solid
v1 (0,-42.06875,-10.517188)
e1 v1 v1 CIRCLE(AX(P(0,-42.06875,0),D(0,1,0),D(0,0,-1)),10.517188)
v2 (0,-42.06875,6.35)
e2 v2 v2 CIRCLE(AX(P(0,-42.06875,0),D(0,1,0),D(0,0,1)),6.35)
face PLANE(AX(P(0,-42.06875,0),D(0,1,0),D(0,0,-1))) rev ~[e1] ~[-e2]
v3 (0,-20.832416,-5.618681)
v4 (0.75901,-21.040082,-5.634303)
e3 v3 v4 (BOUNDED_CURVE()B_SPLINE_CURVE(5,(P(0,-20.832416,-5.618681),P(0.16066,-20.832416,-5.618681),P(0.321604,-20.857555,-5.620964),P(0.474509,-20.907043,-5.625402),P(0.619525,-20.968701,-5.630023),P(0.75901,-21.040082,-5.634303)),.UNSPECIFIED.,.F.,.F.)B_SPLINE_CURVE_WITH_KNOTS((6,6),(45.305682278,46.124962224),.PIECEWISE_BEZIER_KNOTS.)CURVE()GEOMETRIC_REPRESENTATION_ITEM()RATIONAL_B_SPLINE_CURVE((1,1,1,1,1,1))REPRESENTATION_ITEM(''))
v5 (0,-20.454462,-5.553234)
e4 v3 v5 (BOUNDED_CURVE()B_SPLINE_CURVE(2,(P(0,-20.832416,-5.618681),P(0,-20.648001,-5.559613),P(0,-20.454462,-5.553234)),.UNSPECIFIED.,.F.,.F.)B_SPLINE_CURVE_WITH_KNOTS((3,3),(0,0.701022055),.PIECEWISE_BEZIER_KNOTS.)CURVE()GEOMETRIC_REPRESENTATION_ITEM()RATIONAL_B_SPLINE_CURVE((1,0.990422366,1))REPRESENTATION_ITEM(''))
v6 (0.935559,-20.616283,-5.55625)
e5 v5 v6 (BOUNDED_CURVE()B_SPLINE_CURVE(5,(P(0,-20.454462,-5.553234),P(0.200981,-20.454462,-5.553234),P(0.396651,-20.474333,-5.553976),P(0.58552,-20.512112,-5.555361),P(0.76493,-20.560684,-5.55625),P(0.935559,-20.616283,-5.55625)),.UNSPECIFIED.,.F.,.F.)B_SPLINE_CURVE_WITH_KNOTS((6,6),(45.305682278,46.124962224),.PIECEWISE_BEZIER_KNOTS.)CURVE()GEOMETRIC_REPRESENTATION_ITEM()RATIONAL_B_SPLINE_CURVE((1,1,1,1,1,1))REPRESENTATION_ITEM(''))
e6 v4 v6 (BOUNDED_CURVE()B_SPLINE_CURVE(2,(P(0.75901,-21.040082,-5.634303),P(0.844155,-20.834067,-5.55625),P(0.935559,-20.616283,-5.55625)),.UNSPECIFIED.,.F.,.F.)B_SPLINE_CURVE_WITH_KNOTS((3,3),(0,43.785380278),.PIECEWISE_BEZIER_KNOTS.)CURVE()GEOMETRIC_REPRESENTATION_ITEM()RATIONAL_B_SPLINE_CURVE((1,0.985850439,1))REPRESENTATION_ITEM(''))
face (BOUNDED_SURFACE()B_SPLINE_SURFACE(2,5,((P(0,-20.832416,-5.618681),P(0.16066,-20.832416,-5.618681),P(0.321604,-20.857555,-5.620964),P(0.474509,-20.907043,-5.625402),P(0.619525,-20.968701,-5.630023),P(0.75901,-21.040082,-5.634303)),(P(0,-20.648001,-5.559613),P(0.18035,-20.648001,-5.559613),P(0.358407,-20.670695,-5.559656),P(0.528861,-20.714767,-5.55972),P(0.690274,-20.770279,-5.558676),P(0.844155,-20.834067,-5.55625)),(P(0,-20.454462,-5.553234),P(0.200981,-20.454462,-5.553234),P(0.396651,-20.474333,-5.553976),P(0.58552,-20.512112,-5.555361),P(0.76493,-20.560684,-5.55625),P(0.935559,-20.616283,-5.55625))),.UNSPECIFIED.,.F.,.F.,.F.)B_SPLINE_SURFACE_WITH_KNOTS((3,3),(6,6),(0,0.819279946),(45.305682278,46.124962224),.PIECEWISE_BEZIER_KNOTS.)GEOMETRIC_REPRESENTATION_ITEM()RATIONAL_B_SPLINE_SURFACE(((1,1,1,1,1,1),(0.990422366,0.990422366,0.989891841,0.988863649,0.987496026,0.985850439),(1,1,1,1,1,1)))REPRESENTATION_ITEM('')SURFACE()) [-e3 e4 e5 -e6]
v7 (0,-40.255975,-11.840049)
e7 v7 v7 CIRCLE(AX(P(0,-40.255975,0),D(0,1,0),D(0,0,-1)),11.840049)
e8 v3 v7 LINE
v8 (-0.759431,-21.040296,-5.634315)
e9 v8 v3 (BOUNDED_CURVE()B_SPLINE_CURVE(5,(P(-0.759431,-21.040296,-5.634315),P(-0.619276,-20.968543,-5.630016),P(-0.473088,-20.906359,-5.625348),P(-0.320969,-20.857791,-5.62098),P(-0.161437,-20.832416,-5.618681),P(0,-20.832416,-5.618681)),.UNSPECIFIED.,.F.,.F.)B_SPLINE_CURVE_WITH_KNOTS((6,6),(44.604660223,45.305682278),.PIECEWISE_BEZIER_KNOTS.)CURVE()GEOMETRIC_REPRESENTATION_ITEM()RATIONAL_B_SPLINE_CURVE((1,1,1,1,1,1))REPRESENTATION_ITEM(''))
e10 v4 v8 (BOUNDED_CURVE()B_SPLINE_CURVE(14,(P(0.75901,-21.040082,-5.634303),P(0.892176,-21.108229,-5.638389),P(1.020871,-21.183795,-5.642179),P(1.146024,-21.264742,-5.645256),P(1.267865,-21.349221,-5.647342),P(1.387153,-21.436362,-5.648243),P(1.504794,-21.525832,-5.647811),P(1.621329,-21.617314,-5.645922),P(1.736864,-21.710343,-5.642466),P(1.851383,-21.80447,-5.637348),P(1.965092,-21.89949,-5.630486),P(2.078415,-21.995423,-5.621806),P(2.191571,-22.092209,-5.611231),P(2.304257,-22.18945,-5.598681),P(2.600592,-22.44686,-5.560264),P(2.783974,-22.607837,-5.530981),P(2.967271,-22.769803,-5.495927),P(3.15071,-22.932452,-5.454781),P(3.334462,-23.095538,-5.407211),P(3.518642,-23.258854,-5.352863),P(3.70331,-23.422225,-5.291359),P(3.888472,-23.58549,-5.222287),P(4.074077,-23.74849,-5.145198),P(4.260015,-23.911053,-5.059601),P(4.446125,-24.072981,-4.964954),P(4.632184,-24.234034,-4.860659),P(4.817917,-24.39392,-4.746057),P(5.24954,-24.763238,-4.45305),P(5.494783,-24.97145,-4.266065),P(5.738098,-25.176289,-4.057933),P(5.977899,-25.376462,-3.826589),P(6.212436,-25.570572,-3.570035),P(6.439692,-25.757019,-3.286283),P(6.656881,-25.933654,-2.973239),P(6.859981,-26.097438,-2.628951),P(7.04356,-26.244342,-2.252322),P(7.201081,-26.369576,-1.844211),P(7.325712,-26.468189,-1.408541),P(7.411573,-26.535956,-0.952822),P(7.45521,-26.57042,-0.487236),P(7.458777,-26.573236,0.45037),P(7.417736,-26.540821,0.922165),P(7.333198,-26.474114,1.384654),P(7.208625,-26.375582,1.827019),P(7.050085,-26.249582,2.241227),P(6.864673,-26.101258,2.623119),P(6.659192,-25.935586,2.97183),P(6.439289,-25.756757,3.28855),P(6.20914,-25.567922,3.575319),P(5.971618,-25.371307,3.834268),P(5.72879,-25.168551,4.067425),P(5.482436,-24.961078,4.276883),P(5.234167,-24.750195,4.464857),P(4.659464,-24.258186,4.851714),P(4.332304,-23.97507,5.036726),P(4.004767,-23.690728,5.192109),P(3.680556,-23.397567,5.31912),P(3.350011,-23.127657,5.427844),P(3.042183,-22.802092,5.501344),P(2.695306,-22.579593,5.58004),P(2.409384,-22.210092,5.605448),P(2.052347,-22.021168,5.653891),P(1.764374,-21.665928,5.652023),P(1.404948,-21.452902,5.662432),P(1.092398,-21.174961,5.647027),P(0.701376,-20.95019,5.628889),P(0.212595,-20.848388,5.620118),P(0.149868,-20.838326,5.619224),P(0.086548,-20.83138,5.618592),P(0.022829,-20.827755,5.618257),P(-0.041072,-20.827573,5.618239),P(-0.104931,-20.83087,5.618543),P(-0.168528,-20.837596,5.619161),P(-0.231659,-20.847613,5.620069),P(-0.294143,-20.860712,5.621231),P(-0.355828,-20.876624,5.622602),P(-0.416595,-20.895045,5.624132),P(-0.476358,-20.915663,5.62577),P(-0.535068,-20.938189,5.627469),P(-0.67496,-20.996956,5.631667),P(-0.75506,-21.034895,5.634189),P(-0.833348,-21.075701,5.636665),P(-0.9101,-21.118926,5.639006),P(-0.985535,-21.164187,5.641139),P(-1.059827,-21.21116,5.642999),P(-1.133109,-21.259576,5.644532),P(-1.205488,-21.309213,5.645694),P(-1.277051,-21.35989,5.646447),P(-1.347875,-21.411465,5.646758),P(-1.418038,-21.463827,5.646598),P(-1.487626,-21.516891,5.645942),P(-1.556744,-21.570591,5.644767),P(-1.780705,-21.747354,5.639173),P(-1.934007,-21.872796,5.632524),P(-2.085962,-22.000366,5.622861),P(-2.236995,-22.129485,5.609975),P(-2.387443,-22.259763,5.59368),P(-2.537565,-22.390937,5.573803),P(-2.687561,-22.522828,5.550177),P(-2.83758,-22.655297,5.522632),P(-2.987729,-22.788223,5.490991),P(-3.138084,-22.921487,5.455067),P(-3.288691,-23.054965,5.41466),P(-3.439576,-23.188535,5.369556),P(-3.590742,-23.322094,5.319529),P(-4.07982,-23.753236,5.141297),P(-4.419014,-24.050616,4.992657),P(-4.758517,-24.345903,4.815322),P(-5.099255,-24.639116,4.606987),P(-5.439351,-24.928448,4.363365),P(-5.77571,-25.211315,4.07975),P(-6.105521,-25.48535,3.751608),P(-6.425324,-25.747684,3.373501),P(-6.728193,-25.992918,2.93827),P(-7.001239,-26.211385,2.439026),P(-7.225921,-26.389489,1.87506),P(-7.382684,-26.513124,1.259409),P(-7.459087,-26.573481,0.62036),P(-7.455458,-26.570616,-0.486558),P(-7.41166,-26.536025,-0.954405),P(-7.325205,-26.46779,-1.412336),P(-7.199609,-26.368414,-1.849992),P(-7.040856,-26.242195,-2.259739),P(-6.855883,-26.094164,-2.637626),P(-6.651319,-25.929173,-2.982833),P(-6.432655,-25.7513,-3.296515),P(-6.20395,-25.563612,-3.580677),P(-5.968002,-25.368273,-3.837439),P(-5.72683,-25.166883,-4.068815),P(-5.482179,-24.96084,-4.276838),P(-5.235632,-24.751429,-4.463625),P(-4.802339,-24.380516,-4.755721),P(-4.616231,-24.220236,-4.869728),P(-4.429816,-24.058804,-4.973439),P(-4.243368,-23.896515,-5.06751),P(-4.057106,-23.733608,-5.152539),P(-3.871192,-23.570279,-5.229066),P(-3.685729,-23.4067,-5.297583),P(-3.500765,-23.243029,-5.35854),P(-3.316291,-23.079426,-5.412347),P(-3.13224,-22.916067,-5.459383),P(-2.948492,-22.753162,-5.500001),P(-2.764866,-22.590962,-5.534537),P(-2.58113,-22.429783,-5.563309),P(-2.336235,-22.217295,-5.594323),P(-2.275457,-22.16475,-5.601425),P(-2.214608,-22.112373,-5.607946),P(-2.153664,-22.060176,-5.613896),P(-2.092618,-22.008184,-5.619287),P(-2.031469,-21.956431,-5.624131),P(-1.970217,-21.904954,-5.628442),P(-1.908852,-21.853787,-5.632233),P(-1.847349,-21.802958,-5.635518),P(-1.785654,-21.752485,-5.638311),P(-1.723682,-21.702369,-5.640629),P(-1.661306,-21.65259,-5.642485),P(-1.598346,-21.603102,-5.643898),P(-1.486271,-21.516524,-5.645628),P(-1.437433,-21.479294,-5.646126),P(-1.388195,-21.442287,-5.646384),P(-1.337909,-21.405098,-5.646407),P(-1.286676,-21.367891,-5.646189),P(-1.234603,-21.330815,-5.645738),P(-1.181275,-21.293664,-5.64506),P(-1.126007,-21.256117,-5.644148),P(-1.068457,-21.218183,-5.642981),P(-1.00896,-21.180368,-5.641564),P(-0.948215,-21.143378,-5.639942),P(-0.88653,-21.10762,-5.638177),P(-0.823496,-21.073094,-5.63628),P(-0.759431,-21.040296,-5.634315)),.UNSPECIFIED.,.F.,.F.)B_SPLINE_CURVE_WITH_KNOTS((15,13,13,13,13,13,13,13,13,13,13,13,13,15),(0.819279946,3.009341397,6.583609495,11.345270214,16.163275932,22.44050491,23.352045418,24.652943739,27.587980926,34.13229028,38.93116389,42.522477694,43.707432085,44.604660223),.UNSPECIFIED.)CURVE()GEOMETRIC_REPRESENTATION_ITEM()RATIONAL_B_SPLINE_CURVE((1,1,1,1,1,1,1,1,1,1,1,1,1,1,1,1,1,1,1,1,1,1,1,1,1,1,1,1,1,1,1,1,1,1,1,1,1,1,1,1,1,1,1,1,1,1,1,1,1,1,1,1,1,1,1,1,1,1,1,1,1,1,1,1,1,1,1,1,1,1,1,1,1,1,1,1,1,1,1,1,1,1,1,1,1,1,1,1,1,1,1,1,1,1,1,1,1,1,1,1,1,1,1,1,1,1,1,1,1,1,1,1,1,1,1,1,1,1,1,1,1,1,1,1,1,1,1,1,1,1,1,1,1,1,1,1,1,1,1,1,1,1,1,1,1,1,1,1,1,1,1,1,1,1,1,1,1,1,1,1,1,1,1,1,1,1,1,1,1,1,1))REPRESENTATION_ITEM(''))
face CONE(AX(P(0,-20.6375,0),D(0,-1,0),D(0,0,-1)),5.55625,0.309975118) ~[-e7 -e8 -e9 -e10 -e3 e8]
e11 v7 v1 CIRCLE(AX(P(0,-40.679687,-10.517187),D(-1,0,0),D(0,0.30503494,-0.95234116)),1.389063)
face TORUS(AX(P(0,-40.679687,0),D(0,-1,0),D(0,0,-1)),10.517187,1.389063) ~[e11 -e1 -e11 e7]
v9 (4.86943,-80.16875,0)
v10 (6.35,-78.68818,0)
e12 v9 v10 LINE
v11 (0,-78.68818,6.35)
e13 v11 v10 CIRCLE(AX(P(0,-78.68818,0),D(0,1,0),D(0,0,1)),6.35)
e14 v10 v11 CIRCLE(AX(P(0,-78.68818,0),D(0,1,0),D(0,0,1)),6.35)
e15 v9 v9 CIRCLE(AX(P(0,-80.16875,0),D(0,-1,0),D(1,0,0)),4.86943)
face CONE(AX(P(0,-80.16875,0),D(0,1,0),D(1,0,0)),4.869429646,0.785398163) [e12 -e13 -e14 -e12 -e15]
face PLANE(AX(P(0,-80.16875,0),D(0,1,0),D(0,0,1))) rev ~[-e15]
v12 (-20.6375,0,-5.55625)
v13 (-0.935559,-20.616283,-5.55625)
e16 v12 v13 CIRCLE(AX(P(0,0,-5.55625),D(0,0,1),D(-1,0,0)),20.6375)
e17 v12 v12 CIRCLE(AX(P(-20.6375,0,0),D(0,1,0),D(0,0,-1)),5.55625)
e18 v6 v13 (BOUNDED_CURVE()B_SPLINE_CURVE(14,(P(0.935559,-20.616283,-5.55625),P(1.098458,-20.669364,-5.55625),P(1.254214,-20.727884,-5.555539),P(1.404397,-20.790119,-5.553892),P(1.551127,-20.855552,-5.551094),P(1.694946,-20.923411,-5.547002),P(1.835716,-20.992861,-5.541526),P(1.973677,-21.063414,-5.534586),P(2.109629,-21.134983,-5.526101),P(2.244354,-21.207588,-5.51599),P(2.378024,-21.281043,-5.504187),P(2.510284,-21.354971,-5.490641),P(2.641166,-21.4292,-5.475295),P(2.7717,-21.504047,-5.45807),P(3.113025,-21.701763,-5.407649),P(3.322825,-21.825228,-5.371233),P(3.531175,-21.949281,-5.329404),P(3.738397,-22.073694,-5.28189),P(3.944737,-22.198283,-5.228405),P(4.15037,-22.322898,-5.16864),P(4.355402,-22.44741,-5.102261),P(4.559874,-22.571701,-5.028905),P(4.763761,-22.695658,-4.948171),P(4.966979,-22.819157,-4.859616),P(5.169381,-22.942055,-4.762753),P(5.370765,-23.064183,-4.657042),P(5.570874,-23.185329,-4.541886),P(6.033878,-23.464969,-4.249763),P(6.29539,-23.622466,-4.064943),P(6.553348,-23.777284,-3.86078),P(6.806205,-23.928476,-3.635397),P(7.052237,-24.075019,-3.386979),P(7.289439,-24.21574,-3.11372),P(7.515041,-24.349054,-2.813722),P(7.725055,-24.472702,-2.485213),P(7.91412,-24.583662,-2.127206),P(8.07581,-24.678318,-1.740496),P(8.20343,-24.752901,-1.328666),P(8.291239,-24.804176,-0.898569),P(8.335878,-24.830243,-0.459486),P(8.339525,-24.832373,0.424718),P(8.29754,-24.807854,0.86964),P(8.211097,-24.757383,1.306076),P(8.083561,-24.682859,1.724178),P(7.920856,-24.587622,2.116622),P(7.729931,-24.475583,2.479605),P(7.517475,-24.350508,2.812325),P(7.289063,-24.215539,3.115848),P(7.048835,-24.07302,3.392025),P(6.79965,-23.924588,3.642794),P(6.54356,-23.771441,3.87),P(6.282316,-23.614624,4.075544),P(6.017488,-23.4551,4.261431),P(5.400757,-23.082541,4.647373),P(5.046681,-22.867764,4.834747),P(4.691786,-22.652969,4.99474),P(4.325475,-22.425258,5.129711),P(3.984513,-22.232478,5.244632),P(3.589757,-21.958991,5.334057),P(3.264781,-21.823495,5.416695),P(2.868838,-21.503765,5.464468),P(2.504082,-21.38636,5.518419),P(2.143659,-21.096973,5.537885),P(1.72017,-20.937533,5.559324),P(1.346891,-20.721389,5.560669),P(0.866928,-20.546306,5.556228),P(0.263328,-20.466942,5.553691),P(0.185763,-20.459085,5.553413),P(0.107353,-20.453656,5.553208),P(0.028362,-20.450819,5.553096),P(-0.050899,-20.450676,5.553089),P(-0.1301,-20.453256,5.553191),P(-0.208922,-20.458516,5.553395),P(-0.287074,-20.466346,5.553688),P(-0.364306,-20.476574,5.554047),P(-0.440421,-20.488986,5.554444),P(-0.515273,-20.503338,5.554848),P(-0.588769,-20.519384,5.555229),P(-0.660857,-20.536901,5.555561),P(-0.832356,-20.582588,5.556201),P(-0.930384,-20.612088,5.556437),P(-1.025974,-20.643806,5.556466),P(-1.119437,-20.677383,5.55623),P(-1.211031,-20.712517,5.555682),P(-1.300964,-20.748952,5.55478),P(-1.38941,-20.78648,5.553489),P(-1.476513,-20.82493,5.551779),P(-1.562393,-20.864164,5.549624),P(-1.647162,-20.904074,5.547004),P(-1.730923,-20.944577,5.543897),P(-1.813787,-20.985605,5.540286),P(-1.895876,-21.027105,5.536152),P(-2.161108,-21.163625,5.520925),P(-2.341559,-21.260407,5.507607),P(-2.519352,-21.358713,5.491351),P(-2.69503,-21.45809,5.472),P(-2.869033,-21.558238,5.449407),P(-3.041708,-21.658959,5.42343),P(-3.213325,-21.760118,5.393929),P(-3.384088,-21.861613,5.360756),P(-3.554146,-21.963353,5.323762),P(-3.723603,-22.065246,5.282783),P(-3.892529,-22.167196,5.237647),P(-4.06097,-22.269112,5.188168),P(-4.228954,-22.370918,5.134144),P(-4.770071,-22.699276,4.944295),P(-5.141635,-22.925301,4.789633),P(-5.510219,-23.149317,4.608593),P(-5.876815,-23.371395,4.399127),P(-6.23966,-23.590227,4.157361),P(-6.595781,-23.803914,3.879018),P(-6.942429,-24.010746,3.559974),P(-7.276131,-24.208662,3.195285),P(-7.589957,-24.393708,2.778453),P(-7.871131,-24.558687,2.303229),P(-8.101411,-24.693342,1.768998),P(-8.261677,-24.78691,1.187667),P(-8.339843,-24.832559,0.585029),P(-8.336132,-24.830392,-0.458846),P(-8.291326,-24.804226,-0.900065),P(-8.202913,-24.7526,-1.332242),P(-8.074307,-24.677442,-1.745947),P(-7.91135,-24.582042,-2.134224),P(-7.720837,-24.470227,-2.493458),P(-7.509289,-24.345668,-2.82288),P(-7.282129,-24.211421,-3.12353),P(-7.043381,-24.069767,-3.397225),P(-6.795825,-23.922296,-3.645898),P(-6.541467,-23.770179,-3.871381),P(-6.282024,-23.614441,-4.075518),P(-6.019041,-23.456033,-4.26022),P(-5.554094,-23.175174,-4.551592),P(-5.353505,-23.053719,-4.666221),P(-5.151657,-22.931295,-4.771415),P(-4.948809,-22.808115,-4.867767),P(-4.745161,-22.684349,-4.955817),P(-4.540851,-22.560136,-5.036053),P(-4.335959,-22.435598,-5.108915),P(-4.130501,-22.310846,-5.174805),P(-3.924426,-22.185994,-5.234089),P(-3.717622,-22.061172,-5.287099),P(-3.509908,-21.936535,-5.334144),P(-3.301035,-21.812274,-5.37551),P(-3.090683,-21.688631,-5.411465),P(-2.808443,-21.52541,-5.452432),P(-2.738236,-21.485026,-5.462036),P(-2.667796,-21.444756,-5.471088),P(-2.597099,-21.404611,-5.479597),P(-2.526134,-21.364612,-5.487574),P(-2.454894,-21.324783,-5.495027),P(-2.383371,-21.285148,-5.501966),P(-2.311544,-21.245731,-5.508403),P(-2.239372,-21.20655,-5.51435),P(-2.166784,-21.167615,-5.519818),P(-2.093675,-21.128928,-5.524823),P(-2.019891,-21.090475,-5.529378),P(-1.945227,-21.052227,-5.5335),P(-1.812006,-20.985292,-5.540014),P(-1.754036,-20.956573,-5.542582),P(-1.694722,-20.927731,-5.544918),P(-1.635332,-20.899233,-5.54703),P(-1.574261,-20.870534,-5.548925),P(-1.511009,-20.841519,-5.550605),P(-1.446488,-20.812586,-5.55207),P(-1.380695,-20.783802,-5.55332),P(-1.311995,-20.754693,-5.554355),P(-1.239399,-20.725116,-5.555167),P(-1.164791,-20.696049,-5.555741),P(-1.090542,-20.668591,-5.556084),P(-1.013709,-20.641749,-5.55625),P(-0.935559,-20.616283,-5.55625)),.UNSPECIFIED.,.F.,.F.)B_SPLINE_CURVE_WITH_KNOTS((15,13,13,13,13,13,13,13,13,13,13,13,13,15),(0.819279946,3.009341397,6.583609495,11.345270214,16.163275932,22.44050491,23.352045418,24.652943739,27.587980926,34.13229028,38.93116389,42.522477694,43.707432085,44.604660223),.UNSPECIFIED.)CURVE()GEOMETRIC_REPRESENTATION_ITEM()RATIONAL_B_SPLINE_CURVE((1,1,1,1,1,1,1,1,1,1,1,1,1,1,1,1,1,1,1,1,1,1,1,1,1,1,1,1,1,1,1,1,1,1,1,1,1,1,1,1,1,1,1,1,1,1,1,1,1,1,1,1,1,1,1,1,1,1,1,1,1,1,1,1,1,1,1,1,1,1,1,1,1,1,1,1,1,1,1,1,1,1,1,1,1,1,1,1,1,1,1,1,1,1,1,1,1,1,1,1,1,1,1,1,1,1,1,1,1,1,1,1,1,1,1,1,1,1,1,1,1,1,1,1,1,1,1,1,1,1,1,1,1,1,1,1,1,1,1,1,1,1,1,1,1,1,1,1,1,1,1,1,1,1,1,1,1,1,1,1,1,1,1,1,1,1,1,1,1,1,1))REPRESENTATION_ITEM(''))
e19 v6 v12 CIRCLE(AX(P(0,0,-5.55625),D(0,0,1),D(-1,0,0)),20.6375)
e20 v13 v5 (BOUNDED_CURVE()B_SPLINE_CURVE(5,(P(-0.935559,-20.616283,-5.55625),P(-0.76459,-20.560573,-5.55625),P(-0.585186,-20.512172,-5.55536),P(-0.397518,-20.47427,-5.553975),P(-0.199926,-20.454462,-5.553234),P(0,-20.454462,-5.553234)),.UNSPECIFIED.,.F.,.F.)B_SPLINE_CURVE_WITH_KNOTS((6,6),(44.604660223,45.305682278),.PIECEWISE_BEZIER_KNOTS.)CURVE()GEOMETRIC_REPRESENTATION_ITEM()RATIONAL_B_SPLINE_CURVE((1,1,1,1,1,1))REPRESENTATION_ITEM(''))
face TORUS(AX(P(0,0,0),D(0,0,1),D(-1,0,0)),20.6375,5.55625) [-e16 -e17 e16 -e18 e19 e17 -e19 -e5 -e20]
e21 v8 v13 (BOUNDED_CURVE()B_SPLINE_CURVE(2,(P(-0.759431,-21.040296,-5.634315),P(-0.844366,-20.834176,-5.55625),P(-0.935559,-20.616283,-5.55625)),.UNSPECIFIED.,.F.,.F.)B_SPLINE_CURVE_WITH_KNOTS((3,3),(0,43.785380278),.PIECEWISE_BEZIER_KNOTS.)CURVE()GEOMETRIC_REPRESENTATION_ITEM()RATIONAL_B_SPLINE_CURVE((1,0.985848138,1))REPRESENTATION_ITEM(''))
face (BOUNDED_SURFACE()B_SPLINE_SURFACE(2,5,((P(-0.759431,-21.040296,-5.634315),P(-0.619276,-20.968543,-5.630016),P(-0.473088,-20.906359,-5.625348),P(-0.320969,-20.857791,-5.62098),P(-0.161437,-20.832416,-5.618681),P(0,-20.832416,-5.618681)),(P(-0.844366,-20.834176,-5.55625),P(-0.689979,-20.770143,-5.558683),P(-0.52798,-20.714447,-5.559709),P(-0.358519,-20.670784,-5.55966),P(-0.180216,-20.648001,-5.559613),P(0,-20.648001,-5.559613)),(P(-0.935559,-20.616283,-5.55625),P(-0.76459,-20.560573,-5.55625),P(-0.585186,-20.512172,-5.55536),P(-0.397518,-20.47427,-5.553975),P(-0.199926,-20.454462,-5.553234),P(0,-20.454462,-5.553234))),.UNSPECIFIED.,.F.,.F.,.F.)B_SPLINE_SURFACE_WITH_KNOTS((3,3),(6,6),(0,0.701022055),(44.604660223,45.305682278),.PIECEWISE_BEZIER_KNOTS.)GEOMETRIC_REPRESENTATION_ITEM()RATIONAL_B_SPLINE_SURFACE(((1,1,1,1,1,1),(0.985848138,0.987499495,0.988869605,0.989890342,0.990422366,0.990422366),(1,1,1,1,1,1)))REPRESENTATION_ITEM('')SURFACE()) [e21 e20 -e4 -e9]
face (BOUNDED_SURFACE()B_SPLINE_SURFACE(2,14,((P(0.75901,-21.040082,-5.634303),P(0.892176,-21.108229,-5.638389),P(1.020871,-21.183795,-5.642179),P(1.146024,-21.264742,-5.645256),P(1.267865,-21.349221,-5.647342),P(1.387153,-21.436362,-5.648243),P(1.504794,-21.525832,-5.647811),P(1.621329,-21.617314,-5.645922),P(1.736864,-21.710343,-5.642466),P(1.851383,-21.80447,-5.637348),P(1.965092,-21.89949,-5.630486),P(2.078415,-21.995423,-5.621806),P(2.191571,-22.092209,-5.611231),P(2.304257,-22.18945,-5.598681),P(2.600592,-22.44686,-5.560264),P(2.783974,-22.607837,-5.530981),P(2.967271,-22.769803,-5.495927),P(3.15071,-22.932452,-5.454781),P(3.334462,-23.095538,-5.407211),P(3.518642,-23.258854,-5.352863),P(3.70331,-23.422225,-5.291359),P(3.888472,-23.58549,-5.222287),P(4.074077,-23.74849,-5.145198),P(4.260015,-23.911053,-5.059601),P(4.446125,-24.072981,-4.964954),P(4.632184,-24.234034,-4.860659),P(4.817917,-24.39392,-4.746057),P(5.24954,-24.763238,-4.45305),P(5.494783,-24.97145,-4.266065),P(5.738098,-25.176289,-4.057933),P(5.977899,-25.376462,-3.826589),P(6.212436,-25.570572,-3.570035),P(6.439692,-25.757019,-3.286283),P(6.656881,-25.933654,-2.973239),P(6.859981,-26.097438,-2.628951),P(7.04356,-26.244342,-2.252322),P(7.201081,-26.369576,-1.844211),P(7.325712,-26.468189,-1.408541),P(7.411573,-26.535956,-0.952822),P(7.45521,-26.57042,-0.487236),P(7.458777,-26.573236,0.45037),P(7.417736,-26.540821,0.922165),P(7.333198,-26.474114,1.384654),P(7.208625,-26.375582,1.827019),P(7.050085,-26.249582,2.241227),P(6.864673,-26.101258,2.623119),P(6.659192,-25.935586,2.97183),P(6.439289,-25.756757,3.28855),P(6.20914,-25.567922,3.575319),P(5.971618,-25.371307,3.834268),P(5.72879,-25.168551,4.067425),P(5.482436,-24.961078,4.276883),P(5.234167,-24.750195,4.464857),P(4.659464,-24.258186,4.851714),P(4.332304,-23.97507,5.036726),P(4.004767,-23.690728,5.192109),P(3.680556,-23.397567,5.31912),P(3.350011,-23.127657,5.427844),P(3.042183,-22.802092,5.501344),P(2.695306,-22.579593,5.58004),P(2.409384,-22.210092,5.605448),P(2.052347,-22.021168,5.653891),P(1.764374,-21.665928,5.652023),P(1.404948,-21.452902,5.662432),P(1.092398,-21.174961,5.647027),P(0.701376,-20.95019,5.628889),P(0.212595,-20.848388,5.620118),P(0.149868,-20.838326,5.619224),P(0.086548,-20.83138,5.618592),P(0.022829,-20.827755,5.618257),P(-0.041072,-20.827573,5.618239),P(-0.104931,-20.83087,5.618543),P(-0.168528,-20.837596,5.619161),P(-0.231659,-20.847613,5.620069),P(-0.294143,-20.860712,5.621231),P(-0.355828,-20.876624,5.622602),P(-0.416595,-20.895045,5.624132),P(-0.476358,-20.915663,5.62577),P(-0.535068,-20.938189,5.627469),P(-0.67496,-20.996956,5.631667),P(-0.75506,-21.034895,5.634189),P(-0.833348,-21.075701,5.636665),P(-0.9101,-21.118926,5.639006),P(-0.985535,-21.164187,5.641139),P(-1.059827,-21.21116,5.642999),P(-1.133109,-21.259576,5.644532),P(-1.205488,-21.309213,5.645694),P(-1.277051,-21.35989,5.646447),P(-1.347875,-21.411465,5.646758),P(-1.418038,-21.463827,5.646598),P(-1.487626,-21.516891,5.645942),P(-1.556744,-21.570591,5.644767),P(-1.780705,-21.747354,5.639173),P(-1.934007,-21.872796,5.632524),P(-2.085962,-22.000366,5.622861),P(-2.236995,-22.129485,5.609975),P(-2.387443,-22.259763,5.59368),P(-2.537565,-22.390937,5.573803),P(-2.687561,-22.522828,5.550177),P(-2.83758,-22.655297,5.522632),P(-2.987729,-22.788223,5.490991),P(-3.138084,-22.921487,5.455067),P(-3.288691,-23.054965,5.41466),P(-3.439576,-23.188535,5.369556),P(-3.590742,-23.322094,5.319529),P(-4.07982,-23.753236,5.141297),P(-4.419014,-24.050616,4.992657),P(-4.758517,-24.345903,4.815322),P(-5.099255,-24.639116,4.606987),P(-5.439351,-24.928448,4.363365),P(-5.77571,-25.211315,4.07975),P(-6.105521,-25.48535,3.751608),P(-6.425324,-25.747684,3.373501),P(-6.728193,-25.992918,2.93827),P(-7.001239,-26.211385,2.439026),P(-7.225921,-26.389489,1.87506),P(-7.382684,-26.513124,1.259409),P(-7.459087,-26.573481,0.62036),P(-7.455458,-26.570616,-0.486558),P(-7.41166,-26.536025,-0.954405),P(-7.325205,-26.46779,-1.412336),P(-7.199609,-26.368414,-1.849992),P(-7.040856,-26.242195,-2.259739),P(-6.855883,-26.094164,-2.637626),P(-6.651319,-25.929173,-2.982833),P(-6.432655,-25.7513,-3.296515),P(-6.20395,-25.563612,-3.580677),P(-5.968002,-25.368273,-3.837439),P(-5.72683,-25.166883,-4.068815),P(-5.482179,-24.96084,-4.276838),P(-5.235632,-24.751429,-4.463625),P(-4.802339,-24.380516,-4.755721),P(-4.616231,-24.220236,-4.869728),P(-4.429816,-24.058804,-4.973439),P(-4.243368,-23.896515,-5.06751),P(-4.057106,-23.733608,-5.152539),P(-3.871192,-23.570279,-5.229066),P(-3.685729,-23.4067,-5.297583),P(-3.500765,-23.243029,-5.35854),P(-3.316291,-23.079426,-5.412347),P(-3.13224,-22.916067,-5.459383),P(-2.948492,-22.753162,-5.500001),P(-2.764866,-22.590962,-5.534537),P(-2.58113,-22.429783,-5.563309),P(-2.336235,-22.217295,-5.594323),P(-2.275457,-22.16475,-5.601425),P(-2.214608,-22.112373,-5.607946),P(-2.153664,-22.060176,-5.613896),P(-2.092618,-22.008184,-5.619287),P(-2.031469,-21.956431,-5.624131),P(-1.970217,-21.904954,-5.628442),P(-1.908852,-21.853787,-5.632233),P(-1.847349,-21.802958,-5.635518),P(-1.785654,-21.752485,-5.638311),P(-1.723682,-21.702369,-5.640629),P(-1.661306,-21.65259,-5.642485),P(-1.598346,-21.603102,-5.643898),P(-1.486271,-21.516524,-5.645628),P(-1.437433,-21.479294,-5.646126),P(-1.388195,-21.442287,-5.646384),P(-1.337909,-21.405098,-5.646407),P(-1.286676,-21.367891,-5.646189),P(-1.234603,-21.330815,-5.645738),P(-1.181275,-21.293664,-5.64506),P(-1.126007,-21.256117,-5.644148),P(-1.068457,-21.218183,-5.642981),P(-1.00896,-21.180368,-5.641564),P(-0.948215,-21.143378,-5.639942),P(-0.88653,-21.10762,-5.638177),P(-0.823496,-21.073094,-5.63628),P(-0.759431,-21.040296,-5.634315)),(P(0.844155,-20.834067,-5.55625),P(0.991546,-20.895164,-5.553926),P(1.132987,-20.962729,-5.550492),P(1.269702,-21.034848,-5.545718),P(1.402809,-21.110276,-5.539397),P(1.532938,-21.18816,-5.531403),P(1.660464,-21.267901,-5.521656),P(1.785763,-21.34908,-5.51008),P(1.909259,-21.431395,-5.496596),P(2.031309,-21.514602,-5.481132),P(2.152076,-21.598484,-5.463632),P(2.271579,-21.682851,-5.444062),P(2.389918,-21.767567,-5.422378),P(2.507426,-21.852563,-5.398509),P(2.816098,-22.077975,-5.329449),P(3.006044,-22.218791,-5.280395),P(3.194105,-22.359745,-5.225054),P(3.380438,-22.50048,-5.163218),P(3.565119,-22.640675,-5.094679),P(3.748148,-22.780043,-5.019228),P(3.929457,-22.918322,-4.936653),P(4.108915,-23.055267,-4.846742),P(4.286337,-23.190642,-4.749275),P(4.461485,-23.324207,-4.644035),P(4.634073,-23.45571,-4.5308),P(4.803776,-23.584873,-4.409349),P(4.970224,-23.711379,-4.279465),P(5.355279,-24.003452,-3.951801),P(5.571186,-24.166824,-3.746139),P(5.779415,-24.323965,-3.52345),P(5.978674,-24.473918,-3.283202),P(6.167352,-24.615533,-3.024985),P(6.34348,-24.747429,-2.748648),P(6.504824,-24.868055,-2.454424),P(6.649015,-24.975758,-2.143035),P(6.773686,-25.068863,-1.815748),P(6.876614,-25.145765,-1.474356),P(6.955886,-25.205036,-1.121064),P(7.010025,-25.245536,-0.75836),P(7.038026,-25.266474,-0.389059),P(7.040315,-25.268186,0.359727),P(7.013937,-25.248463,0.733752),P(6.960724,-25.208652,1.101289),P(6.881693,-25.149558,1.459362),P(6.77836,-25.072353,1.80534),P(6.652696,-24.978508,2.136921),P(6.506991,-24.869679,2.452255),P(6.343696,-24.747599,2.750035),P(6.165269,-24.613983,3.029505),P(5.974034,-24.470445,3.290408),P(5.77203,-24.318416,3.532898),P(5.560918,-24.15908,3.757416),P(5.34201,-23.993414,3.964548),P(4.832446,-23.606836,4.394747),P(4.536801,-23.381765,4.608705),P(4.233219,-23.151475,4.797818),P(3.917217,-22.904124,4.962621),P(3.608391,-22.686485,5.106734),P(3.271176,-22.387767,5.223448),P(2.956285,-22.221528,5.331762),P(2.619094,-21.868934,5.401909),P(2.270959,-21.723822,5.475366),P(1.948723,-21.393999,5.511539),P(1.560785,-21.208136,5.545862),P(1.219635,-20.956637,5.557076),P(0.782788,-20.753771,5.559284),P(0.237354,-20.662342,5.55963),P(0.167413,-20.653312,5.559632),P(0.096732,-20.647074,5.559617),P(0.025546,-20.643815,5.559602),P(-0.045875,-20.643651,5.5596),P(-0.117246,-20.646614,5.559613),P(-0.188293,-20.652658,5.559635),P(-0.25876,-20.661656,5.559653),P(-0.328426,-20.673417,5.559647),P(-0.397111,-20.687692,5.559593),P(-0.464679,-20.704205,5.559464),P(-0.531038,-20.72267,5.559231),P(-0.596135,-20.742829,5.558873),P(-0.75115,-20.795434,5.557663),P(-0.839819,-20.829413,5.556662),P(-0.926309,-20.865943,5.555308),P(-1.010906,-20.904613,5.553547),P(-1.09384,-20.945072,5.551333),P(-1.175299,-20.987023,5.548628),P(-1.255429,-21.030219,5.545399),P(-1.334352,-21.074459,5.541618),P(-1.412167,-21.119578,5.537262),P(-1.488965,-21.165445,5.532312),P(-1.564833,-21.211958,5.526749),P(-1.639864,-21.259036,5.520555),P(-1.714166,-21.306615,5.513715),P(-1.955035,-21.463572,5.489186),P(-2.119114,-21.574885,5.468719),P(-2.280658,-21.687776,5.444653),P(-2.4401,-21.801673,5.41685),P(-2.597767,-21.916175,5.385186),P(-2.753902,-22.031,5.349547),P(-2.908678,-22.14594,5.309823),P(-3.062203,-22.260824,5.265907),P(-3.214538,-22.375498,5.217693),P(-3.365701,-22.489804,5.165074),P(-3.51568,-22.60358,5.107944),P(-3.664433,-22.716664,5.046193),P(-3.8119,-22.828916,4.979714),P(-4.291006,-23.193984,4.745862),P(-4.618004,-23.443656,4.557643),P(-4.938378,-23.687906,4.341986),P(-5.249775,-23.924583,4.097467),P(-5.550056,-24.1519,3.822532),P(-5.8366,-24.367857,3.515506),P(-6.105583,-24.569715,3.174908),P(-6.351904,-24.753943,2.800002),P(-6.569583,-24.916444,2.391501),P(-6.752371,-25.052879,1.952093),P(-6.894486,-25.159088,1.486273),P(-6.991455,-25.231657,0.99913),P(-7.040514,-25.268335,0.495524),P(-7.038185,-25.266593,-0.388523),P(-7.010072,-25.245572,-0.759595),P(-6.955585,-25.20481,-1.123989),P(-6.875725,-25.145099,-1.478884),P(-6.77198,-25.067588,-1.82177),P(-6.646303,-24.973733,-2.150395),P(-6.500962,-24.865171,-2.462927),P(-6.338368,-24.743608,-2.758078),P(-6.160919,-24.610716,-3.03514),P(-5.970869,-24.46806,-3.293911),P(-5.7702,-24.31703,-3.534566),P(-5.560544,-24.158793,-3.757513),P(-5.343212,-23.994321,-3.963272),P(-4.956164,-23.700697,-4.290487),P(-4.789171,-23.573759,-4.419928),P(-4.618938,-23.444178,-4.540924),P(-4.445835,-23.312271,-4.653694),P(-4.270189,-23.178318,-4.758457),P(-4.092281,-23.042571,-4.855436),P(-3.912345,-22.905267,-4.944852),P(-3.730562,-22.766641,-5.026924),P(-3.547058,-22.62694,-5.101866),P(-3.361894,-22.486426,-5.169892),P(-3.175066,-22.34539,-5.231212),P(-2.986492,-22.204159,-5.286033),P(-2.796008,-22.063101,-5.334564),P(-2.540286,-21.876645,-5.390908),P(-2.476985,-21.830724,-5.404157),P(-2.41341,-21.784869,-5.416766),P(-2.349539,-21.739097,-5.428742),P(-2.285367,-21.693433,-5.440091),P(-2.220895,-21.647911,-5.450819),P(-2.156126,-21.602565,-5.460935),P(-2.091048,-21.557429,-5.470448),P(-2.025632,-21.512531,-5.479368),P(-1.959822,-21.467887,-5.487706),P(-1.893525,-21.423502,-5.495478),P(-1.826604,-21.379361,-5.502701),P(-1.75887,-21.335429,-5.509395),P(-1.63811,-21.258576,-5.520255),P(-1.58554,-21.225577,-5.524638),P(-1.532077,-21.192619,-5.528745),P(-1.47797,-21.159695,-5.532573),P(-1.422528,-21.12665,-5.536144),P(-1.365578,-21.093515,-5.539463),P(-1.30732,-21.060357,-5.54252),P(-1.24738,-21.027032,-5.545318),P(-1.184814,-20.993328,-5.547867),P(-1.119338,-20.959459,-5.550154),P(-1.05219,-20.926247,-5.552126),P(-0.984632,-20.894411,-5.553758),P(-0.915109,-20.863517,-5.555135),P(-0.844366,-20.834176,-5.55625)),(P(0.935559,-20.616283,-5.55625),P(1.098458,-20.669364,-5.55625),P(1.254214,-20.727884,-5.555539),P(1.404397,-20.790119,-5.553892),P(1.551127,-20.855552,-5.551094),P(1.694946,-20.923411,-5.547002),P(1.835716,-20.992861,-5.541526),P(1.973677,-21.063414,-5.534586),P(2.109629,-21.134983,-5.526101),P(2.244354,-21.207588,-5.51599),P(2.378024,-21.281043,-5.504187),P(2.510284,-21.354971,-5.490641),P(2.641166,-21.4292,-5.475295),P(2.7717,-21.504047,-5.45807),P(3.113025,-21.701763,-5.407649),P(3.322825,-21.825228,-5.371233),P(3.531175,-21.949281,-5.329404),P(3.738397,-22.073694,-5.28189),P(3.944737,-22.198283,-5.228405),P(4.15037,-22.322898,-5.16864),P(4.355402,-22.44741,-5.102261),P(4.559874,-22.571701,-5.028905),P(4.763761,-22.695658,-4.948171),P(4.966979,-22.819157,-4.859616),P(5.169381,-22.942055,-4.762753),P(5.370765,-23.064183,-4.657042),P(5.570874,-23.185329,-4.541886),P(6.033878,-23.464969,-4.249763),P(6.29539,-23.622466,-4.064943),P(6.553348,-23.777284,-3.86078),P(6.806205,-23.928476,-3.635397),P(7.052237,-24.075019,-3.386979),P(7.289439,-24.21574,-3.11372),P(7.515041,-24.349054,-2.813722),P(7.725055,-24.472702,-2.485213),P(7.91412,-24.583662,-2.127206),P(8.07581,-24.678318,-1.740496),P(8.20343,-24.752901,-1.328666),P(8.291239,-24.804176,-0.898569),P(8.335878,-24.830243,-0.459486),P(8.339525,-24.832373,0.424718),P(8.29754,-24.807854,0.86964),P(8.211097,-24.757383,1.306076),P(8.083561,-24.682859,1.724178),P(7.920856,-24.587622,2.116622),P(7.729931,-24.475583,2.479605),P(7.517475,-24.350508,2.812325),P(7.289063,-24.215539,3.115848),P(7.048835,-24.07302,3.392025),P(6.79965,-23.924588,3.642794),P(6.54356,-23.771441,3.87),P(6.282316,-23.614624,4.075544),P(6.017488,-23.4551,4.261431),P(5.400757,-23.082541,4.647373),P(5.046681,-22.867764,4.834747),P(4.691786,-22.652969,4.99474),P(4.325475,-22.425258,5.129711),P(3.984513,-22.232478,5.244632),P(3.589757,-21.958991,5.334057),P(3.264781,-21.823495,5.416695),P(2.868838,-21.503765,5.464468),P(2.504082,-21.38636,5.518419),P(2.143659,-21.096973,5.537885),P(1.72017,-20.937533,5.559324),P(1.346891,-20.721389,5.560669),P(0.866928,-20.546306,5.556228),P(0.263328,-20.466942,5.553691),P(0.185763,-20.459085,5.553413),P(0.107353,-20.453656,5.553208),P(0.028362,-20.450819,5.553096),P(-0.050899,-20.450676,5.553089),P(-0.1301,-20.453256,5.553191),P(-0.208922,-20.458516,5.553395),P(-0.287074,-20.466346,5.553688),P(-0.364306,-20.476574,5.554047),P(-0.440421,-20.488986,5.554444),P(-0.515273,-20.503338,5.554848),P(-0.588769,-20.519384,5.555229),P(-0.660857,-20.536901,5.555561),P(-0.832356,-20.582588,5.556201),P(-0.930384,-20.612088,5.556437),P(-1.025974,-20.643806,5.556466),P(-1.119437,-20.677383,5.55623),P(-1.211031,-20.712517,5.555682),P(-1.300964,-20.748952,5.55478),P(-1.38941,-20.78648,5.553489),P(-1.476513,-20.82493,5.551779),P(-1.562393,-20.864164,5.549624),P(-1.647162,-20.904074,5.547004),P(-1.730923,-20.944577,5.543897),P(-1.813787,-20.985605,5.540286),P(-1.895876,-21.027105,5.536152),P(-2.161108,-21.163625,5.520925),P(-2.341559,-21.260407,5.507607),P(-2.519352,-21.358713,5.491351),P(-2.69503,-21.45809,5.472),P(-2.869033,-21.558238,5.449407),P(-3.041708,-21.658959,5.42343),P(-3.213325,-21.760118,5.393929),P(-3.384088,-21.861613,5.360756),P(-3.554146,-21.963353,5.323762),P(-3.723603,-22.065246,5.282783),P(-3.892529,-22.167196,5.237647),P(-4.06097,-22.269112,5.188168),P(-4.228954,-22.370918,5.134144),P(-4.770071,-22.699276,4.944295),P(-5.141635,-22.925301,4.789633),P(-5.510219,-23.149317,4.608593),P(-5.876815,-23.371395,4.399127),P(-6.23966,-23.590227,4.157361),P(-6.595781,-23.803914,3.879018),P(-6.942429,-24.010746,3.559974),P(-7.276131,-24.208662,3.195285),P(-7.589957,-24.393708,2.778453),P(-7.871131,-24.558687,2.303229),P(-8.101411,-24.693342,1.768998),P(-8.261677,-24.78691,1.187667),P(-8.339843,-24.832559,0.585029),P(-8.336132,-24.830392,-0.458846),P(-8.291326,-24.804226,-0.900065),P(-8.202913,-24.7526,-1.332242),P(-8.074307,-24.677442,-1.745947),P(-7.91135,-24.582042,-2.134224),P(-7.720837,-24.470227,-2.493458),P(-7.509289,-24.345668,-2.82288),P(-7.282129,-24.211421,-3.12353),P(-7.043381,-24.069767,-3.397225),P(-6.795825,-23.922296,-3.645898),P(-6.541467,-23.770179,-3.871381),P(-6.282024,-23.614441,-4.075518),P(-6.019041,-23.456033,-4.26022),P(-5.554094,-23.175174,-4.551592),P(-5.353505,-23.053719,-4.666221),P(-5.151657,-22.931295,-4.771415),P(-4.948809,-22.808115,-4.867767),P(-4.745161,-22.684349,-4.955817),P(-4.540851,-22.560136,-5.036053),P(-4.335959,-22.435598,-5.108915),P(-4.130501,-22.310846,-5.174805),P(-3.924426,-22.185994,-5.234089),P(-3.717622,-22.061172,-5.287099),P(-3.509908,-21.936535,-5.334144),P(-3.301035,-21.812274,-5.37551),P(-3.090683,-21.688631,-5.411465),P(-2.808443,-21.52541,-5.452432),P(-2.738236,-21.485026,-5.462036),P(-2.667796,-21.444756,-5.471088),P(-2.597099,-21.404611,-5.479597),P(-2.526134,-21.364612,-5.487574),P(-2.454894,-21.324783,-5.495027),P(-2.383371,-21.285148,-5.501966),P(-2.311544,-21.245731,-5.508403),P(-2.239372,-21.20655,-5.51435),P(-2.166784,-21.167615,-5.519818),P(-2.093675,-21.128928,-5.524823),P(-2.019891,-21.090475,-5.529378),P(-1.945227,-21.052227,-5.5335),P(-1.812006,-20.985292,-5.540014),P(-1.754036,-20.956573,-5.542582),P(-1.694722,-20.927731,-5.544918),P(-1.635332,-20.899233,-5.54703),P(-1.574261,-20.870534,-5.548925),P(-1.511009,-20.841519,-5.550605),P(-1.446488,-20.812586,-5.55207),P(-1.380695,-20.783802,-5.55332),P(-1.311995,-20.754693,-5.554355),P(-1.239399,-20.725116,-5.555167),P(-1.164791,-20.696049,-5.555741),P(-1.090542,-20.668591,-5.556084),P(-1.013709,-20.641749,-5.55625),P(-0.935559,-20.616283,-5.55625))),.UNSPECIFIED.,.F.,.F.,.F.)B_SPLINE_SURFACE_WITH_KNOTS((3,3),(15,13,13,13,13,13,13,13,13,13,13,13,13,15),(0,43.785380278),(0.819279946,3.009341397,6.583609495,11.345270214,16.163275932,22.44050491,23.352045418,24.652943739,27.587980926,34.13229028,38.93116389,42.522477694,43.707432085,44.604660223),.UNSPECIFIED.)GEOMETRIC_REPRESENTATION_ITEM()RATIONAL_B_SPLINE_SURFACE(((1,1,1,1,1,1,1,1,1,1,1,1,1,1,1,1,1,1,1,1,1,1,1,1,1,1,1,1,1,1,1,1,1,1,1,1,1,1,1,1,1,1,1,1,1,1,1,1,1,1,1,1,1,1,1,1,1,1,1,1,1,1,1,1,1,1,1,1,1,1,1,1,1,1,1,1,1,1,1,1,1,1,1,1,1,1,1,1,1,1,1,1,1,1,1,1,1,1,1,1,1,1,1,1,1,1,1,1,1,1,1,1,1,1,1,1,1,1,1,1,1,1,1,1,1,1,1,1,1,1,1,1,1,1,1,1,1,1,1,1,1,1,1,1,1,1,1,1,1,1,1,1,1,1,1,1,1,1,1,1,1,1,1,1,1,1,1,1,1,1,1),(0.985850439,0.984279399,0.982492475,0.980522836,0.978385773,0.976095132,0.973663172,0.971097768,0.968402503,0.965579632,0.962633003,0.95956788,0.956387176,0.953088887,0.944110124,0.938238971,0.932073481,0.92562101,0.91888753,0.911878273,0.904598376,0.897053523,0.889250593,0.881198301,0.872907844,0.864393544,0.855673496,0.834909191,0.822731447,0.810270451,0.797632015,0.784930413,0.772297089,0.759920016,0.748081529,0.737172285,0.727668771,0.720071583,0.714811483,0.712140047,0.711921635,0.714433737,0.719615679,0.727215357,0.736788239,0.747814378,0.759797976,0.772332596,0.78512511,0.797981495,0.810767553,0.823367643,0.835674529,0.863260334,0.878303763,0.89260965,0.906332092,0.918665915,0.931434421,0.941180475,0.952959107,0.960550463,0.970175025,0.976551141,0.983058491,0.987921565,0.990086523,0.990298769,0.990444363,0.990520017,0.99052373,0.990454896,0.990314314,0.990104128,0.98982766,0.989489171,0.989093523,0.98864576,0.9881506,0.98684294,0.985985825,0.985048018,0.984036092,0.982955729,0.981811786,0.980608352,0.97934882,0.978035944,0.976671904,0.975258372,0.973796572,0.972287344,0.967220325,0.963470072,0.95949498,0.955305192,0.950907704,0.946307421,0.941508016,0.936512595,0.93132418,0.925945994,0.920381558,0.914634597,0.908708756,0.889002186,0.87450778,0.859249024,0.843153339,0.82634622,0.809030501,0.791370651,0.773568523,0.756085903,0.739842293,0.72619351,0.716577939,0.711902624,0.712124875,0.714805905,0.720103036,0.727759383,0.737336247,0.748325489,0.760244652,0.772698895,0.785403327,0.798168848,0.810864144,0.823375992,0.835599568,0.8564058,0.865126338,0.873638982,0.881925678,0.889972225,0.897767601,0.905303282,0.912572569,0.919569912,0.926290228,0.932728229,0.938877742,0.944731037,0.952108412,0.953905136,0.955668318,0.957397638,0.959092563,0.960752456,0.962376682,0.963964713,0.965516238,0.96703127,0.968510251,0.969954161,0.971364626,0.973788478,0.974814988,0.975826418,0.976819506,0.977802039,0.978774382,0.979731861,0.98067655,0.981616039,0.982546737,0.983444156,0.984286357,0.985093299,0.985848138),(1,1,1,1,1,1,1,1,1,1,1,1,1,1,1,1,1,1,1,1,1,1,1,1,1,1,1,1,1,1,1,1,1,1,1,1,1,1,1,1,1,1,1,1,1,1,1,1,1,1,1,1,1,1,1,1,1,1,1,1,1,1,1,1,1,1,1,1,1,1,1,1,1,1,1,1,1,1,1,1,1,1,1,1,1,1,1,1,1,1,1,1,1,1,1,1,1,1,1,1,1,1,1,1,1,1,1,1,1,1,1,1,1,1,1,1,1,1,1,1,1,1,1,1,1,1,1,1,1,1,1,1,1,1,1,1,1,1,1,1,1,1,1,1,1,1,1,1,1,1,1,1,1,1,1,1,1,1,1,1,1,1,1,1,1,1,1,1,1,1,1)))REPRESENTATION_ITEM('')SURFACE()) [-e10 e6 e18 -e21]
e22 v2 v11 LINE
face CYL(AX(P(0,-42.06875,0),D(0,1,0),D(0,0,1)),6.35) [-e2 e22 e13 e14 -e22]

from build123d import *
from build123d.topology import SkipClean

# Parameters (mm, degrees)
BOSS_EXTRUDE1_START = -42.06875
SKETCH2_R           = 6.35
BOSS_EXTRUDE1_DEPTH = 38.1
SKETCH5_OUTSIDE_W   = 103.412
SKETCH5_OUTSIDE_H   = 103.412
SKETCH5_OUTSIDE_R   = 4.869429646
CUT_EXTRUDE1_DEPTH  = 40.144028919
CUT_EXTRUDE1_DRAFT  = -45
SKETCH6_R           = 5.55625
FILLET1_R           = 1.3890625


with BuildPart() as part:
    # Sketch2 → Boss-Extrude1 (new body)
    with BuildSketch(Plane(origin=(0, 0, 0), x_dir=(1, 0, 0), z_dir=(0, 1, 0)).offset(BOSS_EXTRUDE1_START)):
        with Locations(Location((0, 0, 0), (0, 0, 270))):
            Circle(SKETCH2_R)
    extrude(amount=-BOSS_EXTRUDE1_DEPTH)


with BuildPart() as cut_extrude1_tool:
    # Sketch5 outside → Cut-Extrude1 (with draft: the straight prism first)
    with BuildSketch(Plane.XZ.offset(80.16875)):
        Rectangle(SKETCH5_OUTSIDE_W, SKETCH5_OUTSIDE_H)
        Circle(SKETCH5_OUTSIDE_R, mode=Mode.SUBTRACT)
    extrude(amount=-CUT_EXTRUDE1_DEPTH)
    # Cut-Extrude1: the draft: its side faces are tilted about the plane it starts from
    cut_extrude1_sides = [cut_extrude1_tool.faces().sort_by_distance(p)[0] for p in [
        (0, -60.096735541, -51.706),
        (51.706, -60.096735541, 0),
        (0, -60.096735541, 51.706),
        (-51.706, -60.096735541, 0),
        (-4.869429646, -60.096735541, 0),
    ]]
    draft(cut_extrude1_sides, Plane.XZ.offset(80.16875), CUT_EXTRUDE1_DRAFT)


with BuildPart() as part_1:
    add(part.part)

    # Cut-Extrude1: cut by cut_extrude1_tool
    add(cut_extrude1_tool.part, mode=Mode.SUBTRACT)



with BuildPart() as body_2:
    # Sketch6 → Revolve1 (revolve)
    with BuildSketch(Plane(origin=(0, 0, 0), x_dir=(0, 0, -1), z_dir=(1, 0, 0)), mode=Mode.PRIVATE) as revolve1_sk:
        with Locations((0, 20.6375)):
            Circle(SKETCH6_R)
    revolve(revolve1_sk.sketch.rotate(Axis((0, 0, -7.63984375), (0, 0, 1)), 90), axis=Axis((0, 0, -7.63984375), (0, 0, 1)))


with BuildPart() as part_2:
    with SkipClean():  # the faces are left unmerged after this step: merging them gives an invalid solid
        add(part_1.part)

        add(body_2.part)  # Revolve2 merges body 2
        # Sketch8 → Revolve2 (revolve)
        with BuildSketch(Plane.XY, mode=Mode.PRIVATE) as revolve2_sk:
            with BuildLine():
                Line((0, -42.06875), (0, -20.6375))
                Line((0, -20.6375), (-5.55625, -20.6375))
                Line((-5.55625, -20.6375), (-11.840048893, -40.255974903))
                ThreePointArc((-11.840048893, -40.255974903), (-11.639252094, -41.498507184), (-10.5171875, -42.06875))
                Line((-10.5171875, -42.06875), (0, -42.06875))
            make_face()
        revolve(revolve2_sk.sketch.rotate(Axis((0, -42.06875, 0), (0, 1, 0)), 270), axis=Axis((0, -42.06875, 0), (0, 1, 0)))

    # Fillet1
    fillet1_edges = [part_2.edges().sort_by_distance(p)[0] for p in [
        (7.028263616, -25.233233039, 8.994e-06),
    ]]
    fillet(fillet1_edges, radius=FILLET1_R)


solid = part_2.part
